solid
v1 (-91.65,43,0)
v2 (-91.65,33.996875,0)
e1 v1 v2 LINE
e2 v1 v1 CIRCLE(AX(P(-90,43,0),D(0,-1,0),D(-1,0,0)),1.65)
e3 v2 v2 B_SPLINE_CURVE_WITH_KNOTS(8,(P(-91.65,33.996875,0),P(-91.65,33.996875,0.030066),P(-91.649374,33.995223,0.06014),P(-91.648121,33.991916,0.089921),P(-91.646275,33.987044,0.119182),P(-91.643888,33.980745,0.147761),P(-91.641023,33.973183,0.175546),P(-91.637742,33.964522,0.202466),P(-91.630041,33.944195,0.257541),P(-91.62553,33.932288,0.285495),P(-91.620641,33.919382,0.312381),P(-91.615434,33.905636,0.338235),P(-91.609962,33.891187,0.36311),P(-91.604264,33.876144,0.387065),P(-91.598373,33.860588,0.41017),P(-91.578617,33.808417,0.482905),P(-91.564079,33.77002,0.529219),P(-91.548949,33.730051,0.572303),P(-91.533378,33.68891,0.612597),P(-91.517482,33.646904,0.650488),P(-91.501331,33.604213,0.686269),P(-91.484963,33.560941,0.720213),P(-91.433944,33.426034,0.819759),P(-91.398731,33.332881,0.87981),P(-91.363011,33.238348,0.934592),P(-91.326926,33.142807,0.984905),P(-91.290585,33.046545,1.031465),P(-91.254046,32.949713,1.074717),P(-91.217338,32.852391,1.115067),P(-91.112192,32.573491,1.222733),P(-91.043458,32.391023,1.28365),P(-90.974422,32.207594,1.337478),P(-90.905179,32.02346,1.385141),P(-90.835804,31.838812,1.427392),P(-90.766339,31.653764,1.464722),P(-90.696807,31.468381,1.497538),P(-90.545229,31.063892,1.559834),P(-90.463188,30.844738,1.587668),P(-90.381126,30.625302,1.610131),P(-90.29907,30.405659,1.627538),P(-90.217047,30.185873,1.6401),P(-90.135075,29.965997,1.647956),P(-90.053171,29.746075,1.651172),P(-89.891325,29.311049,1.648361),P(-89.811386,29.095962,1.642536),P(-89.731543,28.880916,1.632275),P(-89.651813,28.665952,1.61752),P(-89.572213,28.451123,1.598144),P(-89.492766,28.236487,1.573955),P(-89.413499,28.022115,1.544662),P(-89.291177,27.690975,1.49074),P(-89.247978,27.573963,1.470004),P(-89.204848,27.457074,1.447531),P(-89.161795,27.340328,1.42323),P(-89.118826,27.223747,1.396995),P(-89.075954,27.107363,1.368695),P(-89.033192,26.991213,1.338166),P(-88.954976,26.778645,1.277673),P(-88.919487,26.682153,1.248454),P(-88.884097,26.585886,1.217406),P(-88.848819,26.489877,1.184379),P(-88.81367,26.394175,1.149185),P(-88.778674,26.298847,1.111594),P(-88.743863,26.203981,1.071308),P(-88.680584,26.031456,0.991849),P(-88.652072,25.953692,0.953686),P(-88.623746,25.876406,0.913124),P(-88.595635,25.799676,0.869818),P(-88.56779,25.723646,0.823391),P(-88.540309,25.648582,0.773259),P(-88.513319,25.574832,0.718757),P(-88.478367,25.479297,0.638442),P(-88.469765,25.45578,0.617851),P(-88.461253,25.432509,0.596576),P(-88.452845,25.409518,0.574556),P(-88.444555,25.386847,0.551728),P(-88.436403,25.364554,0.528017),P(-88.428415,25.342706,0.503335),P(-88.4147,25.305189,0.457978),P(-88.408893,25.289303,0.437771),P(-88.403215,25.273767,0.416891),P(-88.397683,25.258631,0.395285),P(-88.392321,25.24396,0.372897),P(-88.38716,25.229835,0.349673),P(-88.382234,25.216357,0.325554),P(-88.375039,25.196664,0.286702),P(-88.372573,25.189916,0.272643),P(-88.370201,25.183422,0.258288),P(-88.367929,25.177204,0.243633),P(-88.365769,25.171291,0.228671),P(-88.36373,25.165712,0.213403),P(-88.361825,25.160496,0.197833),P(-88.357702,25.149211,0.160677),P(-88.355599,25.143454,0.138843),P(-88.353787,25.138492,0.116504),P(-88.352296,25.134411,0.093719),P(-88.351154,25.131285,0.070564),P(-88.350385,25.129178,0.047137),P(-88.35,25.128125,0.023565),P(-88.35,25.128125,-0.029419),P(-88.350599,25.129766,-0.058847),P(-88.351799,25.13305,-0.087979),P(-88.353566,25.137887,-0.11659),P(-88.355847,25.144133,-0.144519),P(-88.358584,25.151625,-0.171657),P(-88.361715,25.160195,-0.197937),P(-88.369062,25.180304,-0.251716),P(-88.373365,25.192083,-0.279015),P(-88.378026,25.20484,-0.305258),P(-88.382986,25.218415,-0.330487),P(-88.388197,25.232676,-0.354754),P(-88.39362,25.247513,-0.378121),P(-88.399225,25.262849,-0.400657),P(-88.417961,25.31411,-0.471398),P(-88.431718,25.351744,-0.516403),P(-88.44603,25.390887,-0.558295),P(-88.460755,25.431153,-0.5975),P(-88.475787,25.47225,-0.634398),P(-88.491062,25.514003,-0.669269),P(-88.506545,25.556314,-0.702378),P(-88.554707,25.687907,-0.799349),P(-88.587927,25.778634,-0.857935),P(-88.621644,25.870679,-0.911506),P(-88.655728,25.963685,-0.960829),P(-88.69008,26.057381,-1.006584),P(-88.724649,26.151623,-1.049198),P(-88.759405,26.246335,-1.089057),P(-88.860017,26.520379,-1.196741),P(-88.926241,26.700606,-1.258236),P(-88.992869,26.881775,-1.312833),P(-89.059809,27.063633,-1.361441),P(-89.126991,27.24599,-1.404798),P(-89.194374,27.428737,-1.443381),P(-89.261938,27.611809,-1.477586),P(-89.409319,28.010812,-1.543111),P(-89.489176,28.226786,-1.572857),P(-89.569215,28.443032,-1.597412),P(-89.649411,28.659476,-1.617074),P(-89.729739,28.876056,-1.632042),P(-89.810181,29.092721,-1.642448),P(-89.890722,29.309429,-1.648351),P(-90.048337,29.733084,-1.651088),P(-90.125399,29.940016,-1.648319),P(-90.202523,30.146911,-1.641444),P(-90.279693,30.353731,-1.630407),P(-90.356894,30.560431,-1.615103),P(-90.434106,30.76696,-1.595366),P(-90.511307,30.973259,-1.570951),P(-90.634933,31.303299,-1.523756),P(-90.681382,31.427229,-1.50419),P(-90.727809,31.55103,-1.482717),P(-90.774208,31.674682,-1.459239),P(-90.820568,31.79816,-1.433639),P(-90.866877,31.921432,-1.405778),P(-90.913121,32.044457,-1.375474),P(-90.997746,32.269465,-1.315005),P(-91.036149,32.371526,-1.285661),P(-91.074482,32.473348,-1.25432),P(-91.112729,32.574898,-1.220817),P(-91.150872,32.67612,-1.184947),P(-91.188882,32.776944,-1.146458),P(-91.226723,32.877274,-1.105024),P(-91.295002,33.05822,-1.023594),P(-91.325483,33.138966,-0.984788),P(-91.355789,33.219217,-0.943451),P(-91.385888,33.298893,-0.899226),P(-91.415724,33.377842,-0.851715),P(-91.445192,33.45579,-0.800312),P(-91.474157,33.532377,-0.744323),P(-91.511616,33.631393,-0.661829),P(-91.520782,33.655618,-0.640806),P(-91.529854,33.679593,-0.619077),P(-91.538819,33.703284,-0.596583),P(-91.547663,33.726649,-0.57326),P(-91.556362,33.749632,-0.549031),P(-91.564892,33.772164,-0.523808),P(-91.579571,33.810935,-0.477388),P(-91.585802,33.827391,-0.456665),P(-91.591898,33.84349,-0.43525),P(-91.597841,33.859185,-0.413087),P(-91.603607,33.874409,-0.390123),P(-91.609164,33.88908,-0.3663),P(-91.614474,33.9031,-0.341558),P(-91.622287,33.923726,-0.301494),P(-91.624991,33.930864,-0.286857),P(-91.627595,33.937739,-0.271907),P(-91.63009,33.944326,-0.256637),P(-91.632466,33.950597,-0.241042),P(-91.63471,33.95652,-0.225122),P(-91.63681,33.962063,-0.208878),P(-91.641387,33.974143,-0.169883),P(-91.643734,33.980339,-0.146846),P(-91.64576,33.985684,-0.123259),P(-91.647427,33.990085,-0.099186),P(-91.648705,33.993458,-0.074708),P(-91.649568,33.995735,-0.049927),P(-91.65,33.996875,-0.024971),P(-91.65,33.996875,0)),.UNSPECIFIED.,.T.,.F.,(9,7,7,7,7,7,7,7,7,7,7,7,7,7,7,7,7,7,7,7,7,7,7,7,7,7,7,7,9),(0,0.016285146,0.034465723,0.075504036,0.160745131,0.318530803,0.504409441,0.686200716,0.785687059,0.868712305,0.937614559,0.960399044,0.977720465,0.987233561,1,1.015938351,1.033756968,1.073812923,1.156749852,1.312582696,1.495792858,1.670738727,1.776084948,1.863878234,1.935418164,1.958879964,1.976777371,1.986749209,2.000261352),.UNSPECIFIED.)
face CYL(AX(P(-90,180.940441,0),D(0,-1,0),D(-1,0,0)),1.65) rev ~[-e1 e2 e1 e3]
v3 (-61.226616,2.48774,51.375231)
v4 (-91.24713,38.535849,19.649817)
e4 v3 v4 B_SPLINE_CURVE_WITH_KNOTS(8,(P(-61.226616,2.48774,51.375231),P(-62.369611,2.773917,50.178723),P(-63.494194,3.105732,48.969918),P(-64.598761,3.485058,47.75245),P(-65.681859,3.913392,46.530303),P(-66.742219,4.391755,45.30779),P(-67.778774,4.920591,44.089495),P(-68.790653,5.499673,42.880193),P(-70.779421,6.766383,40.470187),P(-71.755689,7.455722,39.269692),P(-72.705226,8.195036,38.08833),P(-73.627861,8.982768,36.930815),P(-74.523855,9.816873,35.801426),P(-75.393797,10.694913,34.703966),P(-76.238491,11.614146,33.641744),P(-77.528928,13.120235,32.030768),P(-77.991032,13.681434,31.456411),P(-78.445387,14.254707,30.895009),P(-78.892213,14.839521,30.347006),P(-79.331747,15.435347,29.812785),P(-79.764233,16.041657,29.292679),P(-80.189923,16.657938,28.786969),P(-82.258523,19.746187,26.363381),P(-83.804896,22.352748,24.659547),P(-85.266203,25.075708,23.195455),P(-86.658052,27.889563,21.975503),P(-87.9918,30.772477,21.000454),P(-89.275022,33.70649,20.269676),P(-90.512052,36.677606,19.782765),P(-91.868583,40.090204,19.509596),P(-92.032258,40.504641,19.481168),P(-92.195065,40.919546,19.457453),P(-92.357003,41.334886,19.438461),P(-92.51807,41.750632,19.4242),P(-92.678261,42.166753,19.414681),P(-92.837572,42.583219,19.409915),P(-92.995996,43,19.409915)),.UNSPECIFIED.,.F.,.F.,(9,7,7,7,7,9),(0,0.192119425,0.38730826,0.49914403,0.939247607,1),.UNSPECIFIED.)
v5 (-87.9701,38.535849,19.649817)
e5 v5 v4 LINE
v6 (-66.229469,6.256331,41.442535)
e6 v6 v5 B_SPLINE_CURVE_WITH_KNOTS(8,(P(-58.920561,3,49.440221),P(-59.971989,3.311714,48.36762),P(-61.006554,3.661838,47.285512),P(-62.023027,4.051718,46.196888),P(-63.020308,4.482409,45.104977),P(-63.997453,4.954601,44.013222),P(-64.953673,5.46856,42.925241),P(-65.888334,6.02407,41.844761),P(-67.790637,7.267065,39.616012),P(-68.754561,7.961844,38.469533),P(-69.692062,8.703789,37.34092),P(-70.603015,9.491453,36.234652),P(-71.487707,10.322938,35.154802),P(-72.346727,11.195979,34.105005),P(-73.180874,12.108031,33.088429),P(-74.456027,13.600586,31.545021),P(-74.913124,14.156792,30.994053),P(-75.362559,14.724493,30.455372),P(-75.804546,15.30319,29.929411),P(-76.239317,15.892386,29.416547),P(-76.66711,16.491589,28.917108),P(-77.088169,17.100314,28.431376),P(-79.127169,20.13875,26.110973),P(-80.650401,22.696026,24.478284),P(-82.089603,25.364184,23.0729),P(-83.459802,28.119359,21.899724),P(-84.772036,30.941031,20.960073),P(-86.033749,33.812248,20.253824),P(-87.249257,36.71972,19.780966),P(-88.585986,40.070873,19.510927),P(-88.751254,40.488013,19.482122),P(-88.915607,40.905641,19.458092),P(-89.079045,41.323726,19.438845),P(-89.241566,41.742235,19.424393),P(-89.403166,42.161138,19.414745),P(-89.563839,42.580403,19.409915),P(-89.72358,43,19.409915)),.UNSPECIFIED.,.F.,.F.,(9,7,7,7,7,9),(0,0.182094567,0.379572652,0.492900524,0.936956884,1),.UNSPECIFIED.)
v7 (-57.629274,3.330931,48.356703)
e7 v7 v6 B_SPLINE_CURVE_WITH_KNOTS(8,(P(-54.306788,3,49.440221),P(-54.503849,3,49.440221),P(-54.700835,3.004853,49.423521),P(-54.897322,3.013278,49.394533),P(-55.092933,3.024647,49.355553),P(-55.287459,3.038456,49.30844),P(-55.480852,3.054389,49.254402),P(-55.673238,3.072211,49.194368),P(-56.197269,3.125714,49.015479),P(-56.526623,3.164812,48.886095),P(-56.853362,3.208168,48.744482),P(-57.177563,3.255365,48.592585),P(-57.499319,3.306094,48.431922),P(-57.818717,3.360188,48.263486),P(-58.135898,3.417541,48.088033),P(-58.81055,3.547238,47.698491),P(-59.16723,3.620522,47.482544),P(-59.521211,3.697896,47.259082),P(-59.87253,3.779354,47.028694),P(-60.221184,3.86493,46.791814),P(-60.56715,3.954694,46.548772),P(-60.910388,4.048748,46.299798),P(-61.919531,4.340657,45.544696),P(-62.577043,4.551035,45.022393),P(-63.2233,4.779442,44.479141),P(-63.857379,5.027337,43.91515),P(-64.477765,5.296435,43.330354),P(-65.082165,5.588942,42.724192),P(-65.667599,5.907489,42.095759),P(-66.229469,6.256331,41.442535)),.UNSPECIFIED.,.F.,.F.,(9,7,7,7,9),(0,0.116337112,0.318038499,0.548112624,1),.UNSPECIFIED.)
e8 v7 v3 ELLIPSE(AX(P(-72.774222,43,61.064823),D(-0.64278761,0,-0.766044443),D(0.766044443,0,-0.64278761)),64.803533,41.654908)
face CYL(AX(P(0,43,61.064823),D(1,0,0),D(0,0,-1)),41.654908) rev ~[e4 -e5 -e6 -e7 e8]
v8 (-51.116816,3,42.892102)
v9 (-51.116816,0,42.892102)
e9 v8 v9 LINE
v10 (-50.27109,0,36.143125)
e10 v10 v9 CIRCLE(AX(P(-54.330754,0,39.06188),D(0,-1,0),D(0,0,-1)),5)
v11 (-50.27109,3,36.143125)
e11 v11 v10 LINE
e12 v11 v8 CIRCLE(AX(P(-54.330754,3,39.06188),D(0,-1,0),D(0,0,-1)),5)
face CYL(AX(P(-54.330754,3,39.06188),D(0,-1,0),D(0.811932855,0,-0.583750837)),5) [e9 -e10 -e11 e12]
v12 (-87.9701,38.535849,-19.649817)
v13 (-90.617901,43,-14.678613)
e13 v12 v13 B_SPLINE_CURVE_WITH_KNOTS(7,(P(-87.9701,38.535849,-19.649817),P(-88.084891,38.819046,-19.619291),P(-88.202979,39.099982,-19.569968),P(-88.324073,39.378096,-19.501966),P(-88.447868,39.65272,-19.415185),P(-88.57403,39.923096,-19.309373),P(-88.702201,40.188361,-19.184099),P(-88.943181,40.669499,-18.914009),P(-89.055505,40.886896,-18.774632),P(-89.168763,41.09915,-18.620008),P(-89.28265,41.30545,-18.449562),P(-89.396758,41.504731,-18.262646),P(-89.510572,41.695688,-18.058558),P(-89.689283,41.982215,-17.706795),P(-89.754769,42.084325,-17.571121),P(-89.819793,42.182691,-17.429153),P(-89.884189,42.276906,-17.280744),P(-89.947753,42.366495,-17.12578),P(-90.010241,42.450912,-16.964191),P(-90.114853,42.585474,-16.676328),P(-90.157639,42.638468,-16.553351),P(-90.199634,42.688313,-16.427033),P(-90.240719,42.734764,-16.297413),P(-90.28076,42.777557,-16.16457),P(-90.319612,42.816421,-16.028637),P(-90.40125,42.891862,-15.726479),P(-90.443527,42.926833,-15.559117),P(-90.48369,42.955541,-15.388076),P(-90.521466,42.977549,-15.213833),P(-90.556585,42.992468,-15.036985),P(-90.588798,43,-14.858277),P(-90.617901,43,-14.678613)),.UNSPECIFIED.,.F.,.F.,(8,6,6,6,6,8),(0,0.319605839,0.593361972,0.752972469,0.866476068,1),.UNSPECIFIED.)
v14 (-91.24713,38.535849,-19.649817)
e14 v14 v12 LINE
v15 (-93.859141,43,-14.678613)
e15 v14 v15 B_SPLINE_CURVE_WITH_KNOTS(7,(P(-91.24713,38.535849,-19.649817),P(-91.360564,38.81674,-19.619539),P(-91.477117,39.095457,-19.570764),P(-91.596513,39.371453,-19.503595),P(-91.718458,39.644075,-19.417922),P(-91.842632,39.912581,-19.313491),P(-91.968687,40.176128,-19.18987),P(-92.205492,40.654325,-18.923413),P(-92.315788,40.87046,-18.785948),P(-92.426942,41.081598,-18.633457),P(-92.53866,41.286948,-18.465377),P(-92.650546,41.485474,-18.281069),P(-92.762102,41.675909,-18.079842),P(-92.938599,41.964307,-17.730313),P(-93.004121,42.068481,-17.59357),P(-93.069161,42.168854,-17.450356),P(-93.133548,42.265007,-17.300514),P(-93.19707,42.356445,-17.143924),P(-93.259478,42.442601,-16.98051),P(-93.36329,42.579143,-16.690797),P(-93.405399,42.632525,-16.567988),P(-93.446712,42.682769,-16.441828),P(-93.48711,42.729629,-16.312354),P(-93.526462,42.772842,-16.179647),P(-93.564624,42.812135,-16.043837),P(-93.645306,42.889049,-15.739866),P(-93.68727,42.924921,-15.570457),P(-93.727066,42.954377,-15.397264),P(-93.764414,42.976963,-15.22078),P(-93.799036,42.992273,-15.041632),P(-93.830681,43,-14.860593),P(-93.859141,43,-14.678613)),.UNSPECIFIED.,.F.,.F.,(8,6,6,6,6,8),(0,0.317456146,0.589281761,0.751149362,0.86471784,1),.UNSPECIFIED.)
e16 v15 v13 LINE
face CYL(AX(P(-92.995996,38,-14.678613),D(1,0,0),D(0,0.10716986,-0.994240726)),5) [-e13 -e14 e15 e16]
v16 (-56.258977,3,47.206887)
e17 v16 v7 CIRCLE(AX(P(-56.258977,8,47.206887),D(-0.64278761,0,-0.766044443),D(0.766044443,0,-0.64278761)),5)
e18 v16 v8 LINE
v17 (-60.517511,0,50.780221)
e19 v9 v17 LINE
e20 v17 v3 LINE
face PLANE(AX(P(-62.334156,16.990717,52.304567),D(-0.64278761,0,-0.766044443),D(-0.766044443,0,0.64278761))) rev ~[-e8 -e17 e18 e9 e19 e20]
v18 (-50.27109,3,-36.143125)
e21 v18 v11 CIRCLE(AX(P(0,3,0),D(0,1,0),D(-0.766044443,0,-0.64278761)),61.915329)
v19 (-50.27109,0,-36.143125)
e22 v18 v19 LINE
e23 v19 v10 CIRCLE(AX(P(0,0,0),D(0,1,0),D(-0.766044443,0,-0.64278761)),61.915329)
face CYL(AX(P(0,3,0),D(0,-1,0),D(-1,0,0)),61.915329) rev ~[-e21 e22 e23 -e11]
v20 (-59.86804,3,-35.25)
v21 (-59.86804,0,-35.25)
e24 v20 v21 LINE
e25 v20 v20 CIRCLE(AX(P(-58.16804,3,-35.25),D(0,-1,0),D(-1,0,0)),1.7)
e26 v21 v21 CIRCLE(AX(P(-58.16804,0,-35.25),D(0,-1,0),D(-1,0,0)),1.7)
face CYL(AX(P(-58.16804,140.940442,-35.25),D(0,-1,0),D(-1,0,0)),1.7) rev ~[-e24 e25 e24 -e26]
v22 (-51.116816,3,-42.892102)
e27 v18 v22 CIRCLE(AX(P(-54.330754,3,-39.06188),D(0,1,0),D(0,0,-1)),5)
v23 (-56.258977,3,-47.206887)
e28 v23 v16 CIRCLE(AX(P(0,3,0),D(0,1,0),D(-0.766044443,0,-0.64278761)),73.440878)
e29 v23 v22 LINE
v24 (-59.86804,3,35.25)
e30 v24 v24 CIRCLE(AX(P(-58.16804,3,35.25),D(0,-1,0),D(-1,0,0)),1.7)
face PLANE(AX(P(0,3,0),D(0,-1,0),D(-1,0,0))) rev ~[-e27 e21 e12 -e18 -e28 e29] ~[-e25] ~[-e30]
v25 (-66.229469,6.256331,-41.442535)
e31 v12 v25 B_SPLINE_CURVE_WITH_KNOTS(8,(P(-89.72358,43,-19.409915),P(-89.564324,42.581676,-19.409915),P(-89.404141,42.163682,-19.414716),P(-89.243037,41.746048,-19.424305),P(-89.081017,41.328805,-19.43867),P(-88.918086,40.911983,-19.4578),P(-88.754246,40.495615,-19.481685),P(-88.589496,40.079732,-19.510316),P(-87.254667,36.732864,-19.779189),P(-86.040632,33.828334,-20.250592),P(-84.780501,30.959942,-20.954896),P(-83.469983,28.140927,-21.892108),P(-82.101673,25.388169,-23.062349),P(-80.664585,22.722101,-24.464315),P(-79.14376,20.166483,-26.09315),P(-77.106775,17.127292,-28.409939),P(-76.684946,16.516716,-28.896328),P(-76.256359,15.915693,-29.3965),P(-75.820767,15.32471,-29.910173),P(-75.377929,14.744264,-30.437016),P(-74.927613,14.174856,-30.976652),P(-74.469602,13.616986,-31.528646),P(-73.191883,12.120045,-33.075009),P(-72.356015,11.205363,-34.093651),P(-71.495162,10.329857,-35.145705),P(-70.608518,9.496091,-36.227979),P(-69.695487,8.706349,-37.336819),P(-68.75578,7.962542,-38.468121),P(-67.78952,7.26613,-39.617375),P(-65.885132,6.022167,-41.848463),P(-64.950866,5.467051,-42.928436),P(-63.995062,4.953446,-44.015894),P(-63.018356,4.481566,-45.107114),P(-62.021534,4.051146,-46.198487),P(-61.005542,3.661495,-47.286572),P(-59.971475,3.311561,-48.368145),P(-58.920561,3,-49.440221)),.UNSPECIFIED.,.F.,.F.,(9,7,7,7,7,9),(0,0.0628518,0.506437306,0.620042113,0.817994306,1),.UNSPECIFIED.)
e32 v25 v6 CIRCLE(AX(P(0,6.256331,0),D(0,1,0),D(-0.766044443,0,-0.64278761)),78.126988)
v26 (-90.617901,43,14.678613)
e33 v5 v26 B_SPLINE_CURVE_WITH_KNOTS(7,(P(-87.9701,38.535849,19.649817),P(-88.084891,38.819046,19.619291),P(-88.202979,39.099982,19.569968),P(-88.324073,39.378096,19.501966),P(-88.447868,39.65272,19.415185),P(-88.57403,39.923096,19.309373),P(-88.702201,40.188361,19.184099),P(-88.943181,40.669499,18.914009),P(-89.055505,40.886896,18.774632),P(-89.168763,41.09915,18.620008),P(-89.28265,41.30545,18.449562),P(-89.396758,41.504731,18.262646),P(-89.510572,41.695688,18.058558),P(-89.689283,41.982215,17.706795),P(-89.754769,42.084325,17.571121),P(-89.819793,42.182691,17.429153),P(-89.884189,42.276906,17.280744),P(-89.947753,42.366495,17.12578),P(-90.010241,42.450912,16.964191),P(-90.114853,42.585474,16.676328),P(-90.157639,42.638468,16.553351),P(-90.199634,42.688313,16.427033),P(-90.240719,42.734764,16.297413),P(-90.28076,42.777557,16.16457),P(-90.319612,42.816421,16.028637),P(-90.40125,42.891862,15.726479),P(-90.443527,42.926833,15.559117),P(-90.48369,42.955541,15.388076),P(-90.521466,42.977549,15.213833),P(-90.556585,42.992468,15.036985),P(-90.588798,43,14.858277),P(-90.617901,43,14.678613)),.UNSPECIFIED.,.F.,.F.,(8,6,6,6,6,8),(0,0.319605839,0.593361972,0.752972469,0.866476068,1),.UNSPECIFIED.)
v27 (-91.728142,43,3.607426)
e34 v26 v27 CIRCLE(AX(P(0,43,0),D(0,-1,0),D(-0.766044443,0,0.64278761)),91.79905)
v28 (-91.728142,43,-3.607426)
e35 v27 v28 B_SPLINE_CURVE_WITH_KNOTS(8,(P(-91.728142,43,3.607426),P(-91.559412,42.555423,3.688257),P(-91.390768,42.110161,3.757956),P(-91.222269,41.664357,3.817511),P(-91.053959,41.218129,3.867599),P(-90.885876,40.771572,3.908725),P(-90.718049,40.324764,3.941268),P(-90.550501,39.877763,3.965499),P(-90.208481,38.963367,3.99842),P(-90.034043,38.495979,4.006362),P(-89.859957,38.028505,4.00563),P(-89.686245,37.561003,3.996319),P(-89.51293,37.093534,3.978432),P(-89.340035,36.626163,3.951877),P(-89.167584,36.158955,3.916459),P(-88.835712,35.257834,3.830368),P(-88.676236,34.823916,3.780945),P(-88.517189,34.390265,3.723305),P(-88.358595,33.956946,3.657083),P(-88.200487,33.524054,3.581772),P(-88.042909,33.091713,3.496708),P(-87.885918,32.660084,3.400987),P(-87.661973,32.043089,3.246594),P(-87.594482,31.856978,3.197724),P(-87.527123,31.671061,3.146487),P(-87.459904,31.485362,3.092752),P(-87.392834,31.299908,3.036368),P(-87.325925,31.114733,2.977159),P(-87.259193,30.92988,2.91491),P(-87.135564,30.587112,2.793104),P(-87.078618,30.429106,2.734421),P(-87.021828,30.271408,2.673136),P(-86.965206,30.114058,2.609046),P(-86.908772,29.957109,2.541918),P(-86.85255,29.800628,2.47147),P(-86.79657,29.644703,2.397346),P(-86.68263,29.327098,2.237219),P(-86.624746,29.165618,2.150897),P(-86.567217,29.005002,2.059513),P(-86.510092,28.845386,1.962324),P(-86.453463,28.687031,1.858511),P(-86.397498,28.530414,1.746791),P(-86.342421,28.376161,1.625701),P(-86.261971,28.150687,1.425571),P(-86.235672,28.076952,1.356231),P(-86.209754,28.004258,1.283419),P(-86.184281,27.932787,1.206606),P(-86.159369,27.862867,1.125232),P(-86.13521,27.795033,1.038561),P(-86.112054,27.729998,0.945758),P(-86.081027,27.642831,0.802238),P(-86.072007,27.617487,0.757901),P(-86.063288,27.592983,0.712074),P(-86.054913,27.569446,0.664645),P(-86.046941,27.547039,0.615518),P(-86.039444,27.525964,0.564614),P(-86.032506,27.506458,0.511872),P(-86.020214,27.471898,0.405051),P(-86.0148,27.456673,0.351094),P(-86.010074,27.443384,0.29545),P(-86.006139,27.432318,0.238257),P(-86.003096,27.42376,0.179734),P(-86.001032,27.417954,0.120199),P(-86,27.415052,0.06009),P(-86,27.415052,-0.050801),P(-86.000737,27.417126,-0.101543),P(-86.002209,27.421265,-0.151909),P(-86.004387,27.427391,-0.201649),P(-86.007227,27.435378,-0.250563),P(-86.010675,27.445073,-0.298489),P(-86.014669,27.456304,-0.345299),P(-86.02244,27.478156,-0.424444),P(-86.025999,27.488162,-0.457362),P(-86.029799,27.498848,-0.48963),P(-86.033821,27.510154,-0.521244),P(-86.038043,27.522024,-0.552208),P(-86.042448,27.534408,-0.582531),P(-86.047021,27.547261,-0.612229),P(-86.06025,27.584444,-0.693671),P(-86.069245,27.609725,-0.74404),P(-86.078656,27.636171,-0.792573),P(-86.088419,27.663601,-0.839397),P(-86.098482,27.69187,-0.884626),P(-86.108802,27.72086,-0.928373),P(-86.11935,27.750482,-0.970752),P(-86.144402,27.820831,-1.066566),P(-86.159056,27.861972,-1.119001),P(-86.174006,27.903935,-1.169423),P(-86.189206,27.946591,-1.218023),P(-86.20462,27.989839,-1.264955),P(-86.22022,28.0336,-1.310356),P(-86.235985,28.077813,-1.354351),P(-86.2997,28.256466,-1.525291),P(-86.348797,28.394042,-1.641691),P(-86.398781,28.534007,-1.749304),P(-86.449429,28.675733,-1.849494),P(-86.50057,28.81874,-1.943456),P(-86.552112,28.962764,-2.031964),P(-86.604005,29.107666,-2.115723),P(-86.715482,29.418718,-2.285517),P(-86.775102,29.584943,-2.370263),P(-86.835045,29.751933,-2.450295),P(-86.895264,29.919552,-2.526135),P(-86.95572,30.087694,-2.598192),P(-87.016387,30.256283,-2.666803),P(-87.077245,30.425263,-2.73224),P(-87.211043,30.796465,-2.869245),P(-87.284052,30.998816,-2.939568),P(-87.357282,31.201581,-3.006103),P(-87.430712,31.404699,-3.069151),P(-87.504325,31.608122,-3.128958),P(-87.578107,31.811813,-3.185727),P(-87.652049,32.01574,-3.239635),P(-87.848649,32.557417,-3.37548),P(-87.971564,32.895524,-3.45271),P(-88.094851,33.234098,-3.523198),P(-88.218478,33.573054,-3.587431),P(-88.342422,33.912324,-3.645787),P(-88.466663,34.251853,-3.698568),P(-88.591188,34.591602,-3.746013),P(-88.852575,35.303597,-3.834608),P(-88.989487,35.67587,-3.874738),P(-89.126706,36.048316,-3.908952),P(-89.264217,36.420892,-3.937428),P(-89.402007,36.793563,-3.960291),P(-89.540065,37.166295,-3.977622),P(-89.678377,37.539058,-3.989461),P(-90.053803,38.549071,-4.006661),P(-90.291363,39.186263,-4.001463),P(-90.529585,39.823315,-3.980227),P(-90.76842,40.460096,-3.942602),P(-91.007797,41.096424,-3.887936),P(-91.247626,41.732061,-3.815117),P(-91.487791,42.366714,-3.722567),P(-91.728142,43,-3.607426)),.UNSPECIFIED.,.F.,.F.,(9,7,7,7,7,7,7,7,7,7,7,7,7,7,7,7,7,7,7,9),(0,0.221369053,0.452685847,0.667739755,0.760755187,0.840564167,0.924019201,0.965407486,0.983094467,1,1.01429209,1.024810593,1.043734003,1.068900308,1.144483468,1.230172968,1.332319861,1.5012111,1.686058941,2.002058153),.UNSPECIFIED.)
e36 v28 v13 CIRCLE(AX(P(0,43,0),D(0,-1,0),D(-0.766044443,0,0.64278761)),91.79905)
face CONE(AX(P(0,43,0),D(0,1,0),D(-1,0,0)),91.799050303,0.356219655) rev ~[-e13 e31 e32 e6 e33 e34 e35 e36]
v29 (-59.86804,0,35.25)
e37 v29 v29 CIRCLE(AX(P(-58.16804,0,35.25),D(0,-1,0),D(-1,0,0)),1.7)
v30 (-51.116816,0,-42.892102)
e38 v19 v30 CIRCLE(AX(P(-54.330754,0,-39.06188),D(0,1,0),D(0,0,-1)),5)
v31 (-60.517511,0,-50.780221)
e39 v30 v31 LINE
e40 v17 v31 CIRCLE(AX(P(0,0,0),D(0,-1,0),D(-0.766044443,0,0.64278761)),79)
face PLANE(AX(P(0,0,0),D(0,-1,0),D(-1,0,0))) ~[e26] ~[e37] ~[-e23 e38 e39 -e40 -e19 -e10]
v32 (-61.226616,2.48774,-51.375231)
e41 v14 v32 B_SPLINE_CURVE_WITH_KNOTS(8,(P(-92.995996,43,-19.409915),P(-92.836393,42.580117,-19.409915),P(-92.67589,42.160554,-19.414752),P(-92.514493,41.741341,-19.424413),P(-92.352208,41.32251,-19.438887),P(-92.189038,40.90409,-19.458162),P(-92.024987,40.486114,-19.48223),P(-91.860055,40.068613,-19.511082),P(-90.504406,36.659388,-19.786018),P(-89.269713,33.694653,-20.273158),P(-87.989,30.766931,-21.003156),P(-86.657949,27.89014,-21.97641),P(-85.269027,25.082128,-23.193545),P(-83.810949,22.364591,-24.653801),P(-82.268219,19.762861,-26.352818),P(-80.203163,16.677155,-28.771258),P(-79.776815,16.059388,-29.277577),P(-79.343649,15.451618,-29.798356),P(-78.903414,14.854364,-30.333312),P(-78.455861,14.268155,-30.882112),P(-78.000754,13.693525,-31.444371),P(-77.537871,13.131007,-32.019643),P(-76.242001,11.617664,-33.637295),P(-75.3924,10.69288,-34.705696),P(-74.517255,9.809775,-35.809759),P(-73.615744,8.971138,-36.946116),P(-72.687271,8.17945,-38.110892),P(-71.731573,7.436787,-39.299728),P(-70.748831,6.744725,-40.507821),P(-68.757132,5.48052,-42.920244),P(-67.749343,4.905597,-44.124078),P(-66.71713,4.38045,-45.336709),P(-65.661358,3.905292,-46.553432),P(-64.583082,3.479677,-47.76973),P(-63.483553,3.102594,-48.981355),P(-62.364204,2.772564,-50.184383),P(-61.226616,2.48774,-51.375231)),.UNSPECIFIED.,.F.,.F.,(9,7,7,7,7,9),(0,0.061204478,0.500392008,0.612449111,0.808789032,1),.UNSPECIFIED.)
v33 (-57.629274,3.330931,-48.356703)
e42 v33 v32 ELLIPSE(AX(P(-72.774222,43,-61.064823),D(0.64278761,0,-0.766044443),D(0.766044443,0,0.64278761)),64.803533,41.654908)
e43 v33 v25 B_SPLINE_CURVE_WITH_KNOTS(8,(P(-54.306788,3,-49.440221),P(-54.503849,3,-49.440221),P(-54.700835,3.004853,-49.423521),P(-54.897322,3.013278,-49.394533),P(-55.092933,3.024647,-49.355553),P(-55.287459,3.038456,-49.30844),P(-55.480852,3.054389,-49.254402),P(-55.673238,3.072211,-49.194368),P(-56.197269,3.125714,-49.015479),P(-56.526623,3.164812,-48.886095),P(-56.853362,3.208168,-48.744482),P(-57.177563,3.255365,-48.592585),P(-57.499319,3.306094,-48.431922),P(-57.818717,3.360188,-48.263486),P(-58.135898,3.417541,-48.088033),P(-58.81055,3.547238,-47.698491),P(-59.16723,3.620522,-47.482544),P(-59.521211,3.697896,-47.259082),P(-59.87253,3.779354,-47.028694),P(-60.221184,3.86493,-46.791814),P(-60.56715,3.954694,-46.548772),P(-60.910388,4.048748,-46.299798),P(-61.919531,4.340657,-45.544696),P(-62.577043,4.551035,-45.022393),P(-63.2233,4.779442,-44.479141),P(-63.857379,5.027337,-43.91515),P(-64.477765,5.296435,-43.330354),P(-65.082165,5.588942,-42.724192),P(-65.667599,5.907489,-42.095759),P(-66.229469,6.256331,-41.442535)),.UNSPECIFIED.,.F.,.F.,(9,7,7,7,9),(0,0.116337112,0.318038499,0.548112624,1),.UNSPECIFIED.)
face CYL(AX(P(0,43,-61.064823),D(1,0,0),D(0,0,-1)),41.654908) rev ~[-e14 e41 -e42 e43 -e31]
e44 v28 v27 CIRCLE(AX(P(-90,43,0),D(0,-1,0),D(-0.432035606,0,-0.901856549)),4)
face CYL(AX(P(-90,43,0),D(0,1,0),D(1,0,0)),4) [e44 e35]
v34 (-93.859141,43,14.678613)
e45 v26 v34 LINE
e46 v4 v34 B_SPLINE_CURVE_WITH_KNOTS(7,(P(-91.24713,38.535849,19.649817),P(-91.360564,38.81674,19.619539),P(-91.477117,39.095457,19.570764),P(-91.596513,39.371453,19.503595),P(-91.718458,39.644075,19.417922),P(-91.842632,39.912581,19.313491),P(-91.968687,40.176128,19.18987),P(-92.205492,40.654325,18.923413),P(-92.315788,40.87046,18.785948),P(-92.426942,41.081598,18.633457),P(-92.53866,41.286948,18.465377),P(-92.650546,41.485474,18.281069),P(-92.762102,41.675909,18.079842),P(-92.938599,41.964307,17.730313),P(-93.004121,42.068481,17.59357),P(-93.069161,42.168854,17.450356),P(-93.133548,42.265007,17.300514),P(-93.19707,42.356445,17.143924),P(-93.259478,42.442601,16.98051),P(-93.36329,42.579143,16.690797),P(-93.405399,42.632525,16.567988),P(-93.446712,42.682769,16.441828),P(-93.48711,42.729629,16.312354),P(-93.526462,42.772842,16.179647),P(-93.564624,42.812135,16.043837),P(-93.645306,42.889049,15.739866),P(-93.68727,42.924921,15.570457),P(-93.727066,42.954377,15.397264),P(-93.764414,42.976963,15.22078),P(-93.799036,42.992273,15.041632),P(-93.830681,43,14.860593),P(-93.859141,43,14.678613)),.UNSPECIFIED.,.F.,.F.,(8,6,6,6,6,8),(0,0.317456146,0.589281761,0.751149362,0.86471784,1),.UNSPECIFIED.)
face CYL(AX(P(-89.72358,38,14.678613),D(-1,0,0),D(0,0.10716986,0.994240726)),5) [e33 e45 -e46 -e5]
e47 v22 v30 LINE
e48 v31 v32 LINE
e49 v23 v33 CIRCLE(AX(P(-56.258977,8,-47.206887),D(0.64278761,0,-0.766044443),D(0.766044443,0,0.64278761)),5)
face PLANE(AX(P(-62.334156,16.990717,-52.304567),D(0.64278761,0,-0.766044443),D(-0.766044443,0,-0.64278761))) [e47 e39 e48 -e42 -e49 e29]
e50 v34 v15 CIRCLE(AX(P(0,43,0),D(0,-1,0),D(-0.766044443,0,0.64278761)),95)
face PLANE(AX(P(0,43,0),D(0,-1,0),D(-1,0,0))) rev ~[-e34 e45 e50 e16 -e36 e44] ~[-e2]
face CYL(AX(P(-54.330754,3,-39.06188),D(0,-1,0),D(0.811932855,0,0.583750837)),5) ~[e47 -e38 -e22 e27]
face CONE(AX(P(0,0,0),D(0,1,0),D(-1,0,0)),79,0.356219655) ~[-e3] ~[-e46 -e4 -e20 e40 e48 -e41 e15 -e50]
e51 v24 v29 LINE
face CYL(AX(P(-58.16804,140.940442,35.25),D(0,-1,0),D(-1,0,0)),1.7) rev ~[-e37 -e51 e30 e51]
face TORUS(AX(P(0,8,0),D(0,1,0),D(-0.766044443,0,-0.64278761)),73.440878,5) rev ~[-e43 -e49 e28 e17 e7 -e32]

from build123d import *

# Parameters (mm, degrees)
R_VOLUTION1_ANGLE                         = 80
BOSS_EXTRU_1_REACH                        = 122.843
ESQUISSE3_R                               = 4
TROU_POUR_TARAUDAGE_POUR_TROU_TARAUD_M4_D = 3.3
D_GAGEMENT_M31_D                          = 3.4
ESQUISSE8_R                               = 41.654908191
ENL_V_MAT_EXTRU_1_DEPTH                   = 121.842511717
CONG_1_R                                  = 5


with BuildPart() as part:
    # Esquisse1 → Révolution1 (revolve, symmetric)
    with BuildSketch(Plane.XY) as r_volution1_sk:
        Polygon((-61.915329373, 0), (-79, 0), (-95, 43), (-91.799050303, 43), (-76.915329373, 3), (-61.915329373, 3), align=None)
    revolve(axis=Axis((0, 0, 0), (0, 1, 0)), revolution_arc=R_VOLUTION1_ANGLE / 2)
    revolve(r_volution1_sk.sketch, axis=Axis((0, 0, 0), (0, -1, 0)), revolution_arc=R_VOLUTION1_ANGLE / 2)

    # Esquisse3 → Boss.-Extru.1 (add, up to next)
    with BuildSketch(Plane(origin=(0, 43, 0), x_dir=(1, 0, 0), z_dir=(0, 1, 0)), mode=Mode.PRIVATE) as boss_extru_1_sk1:
        with Locations((-90, 0)):
            Circle(ESQUISSE3_R)
    boss_extru_1_tool1 = extrude(boss_extru_1_sk1.sketch, amount=-BOSS_EXTRU_1_REACH, mode=Mode.PRIVATE) - part.part
    add(boss_extru_1_tool1.solids().sort_by_distance((-90, 43, 0))[0])

    # Trou pour taraudage pour trou taraudé M41 (through all)
    with Locations(Plane(origin=(0, 43, 0), x_dir=(1, 0, 0), z_dir=(0, 1, 0))):
        with Locations((-90, 0)):
            Hole(TROU_POUR_TARAUDAGE_POUR_TROU_TARAUD_M4_D / 2)

    # Dégagement M31 (through all)
    with Locations(Plane(origin=(0, 3, 0), x_dir=(1, 0, 0), z_dir=(0, 1, 0))):
        with Locations((-58.168039621, 35.25), (-58.168039621, -35.25)):
            Hole(D_GAGEMENT_M31_D / 2)

    # Esquisse8 → Enlèv. mat.-Extru.1 (cut, through all)
    with BuildSketch(Plane(origin=(0, 0, 0), x_dir=(0, 0, -1), z_dir=(1, 0, 0))):
        with Locations((-61.06482292, 43)):
            Circle(ESQUISSE8_R)
        with Locations((61.06482292, 43)):
            Circle(ESQUISSE8_R)
    extrude(amount=-ENL_V_MAT_EXTRU_1_DEPTH, mode=Mode.SUBTRACT)

    # Congé1
    cong_1_edges = [part.edges().sort_by_distance(p)[0] for p in [
        (-76.915329373, 3, 0),
        (-91.359787942, 43, -19.409914729),
        (-91.359787942, 43, 19.409914729),
        (-47.42989401, 1.5, -39.798406571),
        (-47.42989401, 1.5, 39.798406571),
    ]]
    fillet(cong_1_edges, radius=CONG_1_R)


solid = part.part
